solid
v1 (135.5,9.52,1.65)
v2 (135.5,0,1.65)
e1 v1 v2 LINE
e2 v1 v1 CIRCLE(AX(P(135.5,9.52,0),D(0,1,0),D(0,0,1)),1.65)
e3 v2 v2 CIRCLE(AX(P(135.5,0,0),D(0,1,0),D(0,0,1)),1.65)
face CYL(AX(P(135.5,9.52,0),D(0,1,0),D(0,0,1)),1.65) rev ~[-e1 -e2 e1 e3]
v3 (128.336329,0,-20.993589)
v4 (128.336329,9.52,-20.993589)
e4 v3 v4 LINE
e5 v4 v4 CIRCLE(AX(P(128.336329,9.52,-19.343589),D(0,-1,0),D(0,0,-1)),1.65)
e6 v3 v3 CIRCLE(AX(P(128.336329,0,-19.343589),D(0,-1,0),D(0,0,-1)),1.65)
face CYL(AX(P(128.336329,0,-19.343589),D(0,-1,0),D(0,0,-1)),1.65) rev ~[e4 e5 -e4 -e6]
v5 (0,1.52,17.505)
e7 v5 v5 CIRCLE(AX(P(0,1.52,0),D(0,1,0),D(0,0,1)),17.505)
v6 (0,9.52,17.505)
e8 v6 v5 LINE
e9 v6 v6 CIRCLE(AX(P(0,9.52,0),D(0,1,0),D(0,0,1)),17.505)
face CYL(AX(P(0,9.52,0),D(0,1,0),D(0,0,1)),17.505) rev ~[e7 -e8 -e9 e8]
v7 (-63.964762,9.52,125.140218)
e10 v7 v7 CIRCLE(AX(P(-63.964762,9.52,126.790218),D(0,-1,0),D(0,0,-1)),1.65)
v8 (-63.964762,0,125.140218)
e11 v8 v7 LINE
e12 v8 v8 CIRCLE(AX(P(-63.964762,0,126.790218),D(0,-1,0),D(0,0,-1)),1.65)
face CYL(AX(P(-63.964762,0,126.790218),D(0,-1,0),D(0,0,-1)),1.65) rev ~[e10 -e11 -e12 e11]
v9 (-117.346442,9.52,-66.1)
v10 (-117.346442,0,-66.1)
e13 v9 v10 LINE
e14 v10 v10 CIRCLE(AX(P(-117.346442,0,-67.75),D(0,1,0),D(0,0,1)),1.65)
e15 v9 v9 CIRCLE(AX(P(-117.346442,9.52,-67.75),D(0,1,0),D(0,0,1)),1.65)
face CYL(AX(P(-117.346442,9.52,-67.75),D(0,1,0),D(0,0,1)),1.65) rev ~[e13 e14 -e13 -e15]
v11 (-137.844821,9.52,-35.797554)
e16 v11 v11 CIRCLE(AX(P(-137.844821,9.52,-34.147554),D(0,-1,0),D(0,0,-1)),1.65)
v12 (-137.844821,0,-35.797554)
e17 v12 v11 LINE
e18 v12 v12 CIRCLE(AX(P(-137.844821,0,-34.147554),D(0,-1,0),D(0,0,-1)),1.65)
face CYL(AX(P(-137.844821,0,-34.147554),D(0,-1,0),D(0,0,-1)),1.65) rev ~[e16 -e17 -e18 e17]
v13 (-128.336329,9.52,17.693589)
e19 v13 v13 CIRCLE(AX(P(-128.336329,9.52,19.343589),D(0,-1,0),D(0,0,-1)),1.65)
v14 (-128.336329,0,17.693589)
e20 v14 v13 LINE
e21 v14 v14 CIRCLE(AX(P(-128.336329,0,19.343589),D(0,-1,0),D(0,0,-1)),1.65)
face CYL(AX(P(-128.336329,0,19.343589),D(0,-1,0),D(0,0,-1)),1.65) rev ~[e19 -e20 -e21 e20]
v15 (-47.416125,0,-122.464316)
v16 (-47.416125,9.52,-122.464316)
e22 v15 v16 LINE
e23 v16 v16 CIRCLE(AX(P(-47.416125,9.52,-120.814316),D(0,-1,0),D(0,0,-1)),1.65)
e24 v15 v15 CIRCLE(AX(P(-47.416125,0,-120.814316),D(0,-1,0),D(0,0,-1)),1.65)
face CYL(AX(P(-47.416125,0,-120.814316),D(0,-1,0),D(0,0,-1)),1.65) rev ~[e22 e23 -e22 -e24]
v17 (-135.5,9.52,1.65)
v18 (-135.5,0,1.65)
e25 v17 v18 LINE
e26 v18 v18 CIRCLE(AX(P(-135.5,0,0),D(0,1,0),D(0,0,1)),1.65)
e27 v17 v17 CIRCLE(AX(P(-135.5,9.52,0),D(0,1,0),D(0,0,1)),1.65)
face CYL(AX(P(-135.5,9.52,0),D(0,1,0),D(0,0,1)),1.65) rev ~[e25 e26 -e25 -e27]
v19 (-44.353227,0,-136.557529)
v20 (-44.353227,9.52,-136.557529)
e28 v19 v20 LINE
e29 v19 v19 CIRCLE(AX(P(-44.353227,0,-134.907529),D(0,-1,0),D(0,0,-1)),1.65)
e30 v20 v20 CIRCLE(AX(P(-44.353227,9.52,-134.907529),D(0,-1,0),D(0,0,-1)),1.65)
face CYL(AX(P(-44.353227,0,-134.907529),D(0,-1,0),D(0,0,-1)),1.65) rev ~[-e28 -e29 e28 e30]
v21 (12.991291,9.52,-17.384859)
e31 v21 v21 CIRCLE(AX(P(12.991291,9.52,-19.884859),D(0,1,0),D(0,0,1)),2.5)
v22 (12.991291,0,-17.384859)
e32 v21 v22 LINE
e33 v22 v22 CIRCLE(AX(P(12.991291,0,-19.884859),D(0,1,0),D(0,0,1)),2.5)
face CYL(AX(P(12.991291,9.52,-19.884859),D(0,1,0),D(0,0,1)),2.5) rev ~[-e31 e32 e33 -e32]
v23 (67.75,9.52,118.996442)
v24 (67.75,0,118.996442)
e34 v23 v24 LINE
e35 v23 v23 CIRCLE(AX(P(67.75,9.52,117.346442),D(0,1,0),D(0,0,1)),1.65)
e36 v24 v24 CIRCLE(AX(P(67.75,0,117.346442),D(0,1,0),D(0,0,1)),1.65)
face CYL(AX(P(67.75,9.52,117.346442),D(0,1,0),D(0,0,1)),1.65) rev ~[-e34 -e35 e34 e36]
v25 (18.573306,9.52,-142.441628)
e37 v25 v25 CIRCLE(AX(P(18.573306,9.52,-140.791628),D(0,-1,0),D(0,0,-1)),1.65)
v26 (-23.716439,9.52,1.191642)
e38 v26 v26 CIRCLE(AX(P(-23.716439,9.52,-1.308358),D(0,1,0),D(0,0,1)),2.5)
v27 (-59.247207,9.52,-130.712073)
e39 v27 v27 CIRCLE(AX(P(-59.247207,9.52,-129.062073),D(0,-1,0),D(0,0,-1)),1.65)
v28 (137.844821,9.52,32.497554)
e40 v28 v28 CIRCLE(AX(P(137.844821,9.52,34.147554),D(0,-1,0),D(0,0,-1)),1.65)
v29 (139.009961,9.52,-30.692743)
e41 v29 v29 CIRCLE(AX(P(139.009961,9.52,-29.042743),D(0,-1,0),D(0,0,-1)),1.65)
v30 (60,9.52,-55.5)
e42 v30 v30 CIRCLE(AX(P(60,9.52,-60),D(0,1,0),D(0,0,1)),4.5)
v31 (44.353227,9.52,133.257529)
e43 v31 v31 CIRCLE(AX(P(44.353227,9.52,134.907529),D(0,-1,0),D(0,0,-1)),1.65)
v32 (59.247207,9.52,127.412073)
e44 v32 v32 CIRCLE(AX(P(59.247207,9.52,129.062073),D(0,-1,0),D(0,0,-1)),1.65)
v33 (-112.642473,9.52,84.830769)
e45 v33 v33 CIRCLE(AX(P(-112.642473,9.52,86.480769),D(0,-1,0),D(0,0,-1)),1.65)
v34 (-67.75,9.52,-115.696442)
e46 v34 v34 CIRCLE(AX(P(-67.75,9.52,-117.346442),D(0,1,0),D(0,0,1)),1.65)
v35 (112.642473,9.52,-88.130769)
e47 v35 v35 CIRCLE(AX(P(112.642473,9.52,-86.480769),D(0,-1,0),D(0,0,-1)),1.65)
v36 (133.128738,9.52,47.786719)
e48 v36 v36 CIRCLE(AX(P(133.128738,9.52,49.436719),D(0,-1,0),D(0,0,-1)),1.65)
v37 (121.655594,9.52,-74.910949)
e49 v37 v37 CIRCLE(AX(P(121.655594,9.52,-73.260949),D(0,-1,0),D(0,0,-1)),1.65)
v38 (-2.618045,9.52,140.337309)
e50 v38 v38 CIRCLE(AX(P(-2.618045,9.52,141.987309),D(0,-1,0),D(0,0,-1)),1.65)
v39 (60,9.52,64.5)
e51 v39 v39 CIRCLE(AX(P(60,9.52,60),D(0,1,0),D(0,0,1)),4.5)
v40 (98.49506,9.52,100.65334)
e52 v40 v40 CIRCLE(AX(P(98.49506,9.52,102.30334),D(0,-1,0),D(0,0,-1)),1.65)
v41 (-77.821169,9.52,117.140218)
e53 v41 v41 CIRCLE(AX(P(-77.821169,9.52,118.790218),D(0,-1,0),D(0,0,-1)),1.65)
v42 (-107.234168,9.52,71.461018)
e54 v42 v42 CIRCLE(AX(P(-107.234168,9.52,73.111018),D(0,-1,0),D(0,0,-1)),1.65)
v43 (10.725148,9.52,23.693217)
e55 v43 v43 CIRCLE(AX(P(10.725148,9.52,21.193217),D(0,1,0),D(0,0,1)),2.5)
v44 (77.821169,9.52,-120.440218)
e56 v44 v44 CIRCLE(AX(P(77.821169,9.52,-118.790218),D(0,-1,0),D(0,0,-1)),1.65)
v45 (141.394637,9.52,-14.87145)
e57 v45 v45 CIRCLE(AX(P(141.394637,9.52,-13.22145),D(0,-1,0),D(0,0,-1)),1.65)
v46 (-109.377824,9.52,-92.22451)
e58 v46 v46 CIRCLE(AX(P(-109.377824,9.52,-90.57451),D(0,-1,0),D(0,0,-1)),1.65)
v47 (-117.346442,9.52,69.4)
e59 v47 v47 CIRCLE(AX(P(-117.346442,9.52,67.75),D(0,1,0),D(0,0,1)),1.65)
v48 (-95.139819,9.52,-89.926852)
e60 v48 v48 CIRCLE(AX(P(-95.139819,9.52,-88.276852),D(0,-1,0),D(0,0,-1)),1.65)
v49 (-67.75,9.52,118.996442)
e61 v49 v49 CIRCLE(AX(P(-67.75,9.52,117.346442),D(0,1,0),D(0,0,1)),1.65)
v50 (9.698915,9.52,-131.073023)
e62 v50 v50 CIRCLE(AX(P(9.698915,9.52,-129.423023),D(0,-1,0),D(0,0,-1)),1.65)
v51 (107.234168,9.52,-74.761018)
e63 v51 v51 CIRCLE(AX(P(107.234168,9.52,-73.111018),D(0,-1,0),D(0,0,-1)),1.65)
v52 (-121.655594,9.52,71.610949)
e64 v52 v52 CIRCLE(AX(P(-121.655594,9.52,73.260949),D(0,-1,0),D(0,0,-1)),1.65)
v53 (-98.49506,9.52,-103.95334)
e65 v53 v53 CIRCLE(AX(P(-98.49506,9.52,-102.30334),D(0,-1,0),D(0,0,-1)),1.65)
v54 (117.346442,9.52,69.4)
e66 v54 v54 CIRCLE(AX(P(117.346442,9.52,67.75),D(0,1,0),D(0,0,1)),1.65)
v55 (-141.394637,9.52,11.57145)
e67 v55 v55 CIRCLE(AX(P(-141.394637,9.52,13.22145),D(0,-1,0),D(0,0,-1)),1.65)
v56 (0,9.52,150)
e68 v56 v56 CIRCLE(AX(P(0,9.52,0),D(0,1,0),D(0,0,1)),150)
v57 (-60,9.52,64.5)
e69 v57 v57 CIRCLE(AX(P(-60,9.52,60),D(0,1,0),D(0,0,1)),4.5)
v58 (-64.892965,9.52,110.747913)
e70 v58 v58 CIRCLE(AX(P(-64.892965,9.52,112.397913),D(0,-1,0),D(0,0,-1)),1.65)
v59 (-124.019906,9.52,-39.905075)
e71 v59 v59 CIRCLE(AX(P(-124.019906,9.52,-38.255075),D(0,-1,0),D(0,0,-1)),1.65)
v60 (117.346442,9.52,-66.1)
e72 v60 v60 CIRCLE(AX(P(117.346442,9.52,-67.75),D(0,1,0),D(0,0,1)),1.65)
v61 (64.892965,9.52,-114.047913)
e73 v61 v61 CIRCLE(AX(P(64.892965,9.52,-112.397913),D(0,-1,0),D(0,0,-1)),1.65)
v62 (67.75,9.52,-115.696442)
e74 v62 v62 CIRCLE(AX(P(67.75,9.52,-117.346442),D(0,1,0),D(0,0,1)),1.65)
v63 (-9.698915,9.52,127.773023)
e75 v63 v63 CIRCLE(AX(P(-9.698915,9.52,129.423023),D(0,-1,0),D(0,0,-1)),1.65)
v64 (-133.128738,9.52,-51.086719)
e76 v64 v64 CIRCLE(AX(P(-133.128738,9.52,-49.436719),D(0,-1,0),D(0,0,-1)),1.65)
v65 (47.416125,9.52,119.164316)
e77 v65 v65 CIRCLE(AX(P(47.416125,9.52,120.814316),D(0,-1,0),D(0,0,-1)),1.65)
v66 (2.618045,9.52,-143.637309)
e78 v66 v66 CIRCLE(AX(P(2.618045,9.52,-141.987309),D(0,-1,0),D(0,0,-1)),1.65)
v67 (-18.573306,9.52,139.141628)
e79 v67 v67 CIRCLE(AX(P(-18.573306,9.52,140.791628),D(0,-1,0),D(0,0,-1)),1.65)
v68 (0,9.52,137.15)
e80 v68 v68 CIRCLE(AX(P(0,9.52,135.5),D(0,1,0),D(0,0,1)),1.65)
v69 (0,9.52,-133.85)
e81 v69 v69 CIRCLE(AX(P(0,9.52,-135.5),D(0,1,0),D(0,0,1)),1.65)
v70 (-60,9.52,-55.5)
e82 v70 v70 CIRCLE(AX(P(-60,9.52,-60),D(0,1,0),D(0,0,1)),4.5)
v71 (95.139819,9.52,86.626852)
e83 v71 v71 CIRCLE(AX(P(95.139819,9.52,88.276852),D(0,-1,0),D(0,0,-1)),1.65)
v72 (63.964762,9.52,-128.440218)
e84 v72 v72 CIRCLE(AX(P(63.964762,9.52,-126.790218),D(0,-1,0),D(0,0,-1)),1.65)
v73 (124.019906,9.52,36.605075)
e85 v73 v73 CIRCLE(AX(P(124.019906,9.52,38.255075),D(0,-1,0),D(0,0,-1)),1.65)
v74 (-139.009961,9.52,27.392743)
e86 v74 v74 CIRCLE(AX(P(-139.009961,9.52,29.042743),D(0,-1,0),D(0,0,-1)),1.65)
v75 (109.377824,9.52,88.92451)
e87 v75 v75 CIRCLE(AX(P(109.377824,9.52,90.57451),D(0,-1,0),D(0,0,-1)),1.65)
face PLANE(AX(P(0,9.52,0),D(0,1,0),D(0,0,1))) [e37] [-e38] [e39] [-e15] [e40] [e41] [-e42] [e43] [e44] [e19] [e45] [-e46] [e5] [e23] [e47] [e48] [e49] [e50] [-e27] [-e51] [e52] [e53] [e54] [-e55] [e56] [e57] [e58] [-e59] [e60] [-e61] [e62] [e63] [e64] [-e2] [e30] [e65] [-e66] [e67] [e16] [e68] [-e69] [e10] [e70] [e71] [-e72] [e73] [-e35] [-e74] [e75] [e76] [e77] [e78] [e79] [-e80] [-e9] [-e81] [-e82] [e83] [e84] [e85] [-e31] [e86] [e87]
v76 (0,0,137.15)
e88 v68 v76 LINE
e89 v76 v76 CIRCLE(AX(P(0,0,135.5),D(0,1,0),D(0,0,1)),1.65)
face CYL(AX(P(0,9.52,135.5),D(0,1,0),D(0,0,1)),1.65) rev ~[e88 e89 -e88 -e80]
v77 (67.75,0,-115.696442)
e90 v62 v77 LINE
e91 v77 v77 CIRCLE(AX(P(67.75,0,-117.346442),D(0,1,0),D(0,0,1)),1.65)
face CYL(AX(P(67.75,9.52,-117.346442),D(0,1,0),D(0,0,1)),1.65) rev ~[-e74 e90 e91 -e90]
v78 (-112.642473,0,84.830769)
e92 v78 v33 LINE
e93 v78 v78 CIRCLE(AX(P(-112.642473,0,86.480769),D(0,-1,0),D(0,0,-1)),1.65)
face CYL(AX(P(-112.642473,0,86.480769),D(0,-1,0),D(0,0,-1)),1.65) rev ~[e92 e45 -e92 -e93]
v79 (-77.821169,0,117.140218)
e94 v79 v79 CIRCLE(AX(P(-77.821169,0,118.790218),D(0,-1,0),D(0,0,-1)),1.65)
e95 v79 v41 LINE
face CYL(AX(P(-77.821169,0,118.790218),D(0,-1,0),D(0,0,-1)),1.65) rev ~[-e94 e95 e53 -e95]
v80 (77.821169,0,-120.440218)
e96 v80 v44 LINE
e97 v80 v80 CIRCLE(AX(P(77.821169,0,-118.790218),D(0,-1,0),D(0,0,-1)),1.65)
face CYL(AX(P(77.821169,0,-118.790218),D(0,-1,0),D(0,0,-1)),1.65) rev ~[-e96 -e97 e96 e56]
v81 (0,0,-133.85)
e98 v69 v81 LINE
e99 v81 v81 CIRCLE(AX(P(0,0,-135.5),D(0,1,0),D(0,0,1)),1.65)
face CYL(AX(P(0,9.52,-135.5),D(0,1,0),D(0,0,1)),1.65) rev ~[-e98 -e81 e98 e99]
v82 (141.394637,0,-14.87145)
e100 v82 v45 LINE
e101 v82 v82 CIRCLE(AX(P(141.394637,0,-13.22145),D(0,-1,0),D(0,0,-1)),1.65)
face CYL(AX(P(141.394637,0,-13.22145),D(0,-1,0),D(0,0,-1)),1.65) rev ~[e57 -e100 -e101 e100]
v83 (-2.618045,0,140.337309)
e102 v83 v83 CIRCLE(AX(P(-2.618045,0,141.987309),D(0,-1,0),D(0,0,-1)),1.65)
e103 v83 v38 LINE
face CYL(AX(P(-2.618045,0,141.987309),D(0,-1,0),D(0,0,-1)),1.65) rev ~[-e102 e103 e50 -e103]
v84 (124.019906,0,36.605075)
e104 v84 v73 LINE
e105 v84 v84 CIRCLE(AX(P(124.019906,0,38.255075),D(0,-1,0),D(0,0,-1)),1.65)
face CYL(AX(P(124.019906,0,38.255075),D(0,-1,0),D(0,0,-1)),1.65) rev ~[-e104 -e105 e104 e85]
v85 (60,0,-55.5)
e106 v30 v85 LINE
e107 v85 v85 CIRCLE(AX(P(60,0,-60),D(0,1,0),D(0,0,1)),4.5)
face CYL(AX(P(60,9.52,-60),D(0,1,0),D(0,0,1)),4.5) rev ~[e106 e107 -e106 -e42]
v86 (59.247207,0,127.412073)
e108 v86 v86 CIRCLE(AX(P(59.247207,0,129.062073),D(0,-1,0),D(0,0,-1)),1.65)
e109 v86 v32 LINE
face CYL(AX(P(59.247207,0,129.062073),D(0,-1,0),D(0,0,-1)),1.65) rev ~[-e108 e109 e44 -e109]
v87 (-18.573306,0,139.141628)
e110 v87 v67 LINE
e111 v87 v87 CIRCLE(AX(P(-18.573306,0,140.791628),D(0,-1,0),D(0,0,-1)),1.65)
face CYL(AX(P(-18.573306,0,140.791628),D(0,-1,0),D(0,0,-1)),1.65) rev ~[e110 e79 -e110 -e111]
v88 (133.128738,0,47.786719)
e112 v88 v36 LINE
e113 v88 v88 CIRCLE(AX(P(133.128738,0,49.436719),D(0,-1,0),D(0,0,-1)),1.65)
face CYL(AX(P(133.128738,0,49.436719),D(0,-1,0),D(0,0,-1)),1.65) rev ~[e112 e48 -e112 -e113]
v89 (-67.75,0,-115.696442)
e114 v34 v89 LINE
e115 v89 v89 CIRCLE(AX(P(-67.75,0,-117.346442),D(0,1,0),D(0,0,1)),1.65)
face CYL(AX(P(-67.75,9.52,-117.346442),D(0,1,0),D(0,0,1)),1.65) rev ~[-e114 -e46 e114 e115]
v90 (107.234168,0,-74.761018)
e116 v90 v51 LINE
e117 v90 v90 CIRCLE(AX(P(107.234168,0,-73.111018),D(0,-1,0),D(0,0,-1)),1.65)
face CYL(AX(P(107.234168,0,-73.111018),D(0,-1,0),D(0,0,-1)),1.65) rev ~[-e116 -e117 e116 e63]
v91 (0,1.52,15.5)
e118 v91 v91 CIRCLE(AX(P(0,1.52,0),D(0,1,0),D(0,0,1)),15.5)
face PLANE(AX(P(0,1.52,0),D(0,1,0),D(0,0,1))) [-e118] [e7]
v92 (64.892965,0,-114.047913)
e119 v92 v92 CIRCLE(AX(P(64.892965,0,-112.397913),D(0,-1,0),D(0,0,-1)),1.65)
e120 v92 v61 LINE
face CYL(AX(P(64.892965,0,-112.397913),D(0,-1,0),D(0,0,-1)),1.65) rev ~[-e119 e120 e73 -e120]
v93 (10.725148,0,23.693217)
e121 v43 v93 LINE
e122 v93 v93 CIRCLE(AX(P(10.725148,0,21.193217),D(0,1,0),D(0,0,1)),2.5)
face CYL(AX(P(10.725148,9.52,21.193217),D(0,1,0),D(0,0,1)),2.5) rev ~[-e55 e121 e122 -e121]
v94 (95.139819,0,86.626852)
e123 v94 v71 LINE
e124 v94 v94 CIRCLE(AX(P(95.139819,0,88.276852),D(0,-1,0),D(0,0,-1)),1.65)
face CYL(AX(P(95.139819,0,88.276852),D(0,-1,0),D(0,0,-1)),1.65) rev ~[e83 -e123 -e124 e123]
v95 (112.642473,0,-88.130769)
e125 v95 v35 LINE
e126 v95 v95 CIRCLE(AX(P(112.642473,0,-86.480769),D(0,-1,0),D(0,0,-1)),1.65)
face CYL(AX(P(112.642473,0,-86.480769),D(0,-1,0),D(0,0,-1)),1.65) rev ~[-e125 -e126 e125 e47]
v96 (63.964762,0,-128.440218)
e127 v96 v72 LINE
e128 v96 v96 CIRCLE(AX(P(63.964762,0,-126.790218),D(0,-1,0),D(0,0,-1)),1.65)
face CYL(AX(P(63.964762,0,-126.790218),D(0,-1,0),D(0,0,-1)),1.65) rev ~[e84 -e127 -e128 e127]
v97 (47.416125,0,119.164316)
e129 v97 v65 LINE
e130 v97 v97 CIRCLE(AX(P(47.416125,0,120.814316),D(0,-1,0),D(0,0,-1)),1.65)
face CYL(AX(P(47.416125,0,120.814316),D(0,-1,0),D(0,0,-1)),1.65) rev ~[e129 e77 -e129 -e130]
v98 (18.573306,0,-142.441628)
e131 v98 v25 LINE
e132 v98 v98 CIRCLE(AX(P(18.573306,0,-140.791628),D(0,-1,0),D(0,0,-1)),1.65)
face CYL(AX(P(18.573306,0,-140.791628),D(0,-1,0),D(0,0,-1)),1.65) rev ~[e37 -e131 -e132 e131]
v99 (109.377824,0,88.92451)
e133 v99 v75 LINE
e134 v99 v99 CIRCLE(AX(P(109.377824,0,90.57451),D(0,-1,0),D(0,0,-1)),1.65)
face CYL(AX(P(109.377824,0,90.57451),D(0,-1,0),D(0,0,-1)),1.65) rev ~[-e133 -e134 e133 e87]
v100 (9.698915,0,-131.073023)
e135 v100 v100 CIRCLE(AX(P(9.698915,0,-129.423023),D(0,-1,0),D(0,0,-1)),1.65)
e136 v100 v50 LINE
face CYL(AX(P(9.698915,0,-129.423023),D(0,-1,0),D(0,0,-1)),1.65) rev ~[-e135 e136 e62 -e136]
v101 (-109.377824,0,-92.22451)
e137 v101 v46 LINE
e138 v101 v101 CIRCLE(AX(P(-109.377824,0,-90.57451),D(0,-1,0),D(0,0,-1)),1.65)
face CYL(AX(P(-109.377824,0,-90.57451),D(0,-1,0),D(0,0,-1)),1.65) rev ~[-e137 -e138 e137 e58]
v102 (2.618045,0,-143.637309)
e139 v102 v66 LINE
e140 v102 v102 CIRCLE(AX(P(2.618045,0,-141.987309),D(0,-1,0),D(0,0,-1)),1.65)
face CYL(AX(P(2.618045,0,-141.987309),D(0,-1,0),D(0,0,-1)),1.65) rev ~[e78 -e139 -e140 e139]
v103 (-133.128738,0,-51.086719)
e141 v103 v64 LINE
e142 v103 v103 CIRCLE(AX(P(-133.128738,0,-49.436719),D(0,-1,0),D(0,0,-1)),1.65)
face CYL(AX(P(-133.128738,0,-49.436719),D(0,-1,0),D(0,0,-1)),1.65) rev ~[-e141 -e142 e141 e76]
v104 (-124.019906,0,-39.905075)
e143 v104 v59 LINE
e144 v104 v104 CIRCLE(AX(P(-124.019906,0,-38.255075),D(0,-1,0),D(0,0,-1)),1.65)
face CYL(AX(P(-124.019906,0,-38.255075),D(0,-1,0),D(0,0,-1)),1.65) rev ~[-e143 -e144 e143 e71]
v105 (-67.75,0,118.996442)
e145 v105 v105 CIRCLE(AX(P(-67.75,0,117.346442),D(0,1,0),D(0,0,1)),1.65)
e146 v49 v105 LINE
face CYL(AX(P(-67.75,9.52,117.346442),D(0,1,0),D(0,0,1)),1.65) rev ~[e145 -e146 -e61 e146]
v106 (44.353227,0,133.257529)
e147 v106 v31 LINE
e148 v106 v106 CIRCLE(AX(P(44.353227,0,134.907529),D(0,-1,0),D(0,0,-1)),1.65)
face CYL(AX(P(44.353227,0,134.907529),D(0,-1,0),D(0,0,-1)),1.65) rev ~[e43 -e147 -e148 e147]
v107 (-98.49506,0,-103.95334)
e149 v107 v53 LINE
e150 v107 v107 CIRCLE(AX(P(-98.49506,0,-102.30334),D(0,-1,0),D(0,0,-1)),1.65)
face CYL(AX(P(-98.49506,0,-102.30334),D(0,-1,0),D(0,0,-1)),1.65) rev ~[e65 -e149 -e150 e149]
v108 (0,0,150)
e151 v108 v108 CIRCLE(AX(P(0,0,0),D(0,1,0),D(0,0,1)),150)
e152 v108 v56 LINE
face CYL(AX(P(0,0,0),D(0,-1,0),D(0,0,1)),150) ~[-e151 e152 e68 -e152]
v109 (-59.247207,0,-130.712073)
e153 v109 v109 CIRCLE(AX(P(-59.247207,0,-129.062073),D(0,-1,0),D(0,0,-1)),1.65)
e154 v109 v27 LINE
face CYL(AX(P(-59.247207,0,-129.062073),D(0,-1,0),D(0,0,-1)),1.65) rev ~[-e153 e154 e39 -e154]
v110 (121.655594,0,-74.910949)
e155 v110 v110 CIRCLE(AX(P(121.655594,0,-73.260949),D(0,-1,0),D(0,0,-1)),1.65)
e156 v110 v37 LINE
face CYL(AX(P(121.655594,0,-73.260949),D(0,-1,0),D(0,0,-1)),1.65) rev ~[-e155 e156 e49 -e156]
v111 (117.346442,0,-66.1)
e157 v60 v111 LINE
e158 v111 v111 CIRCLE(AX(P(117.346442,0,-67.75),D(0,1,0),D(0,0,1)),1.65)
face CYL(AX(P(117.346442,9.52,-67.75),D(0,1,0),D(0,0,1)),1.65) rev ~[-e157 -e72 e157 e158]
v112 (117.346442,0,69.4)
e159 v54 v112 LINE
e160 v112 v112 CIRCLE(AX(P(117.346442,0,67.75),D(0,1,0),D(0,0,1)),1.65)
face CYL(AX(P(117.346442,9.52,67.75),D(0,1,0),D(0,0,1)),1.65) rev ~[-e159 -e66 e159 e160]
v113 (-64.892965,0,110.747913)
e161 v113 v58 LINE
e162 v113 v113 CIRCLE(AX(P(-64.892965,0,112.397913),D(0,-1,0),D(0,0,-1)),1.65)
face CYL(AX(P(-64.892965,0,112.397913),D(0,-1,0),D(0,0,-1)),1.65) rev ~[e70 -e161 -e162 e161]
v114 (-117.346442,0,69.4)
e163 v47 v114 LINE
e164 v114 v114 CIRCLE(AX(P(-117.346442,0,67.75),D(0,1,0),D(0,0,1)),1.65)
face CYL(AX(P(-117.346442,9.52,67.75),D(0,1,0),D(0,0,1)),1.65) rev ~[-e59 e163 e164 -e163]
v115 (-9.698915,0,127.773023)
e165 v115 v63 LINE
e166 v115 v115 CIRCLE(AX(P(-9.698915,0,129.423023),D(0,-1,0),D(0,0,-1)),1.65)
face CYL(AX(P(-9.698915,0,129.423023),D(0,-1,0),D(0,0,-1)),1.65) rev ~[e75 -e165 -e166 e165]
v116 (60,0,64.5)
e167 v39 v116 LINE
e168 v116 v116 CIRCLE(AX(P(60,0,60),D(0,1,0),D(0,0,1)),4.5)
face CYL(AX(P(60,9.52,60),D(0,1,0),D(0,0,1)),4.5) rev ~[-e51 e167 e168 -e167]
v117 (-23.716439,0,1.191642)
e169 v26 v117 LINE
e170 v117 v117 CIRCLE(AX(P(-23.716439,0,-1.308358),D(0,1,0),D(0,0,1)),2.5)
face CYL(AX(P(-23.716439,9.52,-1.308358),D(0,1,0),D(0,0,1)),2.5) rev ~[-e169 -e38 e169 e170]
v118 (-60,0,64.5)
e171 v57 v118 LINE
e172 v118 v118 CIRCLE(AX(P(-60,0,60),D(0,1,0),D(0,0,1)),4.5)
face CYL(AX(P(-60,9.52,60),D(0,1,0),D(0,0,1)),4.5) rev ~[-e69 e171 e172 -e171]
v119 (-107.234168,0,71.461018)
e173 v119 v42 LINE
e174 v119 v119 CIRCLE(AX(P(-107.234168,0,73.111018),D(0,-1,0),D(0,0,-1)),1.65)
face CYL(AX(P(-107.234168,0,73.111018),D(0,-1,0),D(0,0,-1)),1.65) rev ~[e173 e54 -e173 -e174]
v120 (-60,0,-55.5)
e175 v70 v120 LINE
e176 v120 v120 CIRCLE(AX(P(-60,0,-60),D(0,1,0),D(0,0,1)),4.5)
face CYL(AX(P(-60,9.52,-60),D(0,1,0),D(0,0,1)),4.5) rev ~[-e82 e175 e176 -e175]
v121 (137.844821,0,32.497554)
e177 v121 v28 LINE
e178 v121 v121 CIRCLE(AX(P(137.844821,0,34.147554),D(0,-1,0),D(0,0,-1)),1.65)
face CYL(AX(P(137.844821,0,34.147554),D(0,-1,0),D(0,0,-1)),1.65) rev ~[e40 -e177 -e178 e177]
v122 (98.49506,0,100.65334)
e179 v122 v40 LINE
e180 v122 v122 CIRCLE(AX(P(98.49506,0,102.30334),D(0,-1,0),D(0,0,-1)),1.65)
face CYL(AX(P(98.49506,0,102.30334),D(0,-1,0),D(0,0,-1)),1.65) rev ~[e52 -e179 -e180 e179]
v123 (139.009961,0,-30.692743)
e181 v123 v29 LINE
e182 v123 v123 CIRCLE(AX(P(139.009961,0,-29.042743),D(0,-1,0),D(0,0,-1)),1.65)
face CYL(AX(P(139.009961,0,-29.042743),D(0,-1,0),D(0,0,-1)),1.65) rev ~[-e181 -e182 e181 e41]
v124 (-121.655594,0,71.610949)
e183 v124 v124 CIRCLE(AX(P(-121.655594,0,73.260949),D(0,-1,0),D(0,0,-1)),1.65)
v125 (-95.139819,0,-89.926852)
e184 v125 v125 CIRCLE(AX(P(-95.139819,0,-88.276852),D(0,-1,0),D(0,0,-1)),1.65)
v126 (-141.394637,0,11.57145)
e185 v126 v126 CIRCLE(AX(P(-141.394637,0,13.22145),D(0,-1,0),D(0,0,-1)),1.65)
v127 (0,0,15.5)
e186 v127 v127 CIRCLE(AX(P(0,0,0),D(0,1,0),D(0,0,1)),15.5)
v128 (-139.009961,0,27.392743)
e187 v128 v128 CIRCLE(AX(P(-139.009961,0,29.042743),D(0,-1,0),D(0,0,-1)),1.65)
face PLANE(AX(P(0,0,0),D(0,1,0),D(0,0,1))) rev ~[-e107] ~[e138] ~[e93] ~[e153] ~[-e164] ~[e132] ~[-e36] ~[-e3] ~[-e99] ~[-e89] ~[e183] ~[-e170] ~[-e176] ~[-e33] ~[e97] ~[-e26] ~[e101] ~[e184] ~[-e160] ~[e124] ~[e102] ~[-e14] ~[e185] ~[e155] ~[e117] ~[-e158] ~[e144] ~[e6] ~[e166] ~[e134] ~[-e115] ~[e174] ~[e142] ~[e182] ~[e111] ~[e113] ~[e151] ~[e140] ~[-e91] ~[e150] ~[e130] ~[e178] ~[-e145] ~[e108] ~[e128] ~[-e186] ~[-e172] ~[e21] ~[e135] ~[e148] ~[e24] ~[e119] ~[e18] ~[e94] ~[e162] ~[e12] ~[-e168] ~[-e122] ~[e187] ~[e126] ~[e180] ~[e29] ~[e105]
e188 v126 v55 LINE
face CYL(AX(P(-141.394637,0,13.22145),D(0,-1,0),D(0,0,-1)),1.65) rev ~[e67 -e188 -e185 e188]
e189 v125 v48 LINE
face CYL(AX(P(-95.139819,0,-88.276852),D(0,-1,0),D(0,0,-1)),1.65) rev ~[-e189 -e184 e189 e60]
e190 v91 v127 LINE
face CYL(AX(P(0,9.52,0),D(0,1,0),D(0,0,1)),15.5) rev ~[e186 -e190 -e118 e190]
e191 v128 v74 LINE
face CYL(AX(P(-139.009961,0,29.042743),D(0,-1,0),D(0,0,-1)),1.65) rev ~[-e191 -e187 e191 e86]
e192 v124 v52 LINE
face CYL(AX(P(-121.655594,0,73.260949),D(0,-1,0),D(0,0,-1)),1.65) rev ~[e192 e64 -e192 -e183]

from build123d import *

# Parameters (mm, degrees)
SKETCH1_R           = 150
BOSS_EXTRUDE1_DEPTH = 9.52
SKETCH2_R           = 15.5
CUT_EXTRUDE1_DEPTH  = 213.345544808
SKETCH3_R           = 17.505
CUT_EXTRUDE2_DEPTH  = 8
SKETCH4_R           = 2.5
SKETCH4_R_2         = 1.65
CUT_EXTRUDE3_DEPTH  = 213.345544808
SKETCH6_R           = 1.65
CUT_EXTRUDE5_DEPTH  = 213.345544808
SKETCH7_R           = 4.5
CUT_EXTRUDE6_DEPTH  = 213.345544808


with BuildPart() as part:
    # Sketch1 → Boss-Extrude1 (new body)
    with BuildSketch(Plane(origin=(0, 0, 0), x_dir=(1, 0, 0), z_dir=(0, 1, 0))):
        with Locations(Location((0, 0, 0), (0, 0, 270))):
            Circle(SKETCH1_R)
    extrude(amount=BOSS_EXTRUDE1_DEPTH)

    # Sketch2 → Cut-Extrude1 (cut, through all)
    with BuildSketch(Plane(origin=(0, 9.52, 0), x_dir=(1, 0, 0), z_dir=(0, 1, 0))):
        with Locations(Location((0, 0, 0), (0, 0, 270))):
            Circle(SKETCH2_R)
    extrude(amount=-CUT_EXTRUDE1_DEPTH, mode=Mode.SUBTRACT)

    # Sketch3 → Cut-Extrude2 (cut)
    with BuildSketch(Plane(origin=(0, 9.52, 0), x_dir=(1, 0, 0), z_dir=(0, 1, 0))):
        with Locations(Location((0, 0, 0), (0, 0, 270))):
            Circle(SKETCH3_R)
    extrude(amount=-CUT_EXTRUDE2_DEPTH, mode=Mode.SUBTRACT)

    # Sketch4 → Cut-Extrude3 (cut, through all)
    with BuildSketch(Plane(origin=(0, 9.52, 0), x_dir=(1, 0, 0), z_dir=(0, 1, 0))):
        with Locations(Location((10.725147849, -21.193217308, 0), (0, 0, 270))):
            Circle(SKETCH4_R)
        with Locations(Location((-23.716438501, 1.308358157, 0), (0, 0, 270))):
            Circle(SKETCH4_R)
        with Locations(Location((12.991290652, 19.884859151, 0), (0, 0, 270))):
            Circle(SKETCH4_R)
        with Locations(Location((67.75, -117.346442213, 0), (0, 0, 270))):
            Circle(SKETCH4_R_2)
        with Locations(Location((0, -135.5, 0), (0, 0, 270))):
            Circle(SKETCH4_R_2)
        with Locations(Location((-67.75, -117.346442213, 0), (0, 0, 270))):
            Circle(SKETCH4_R_2)
        with Locations(Location((-117.346442213, -67.75, 0), (0, 0, 270))):
            Circle(SKETCH4_R_2)
        with Locations(Location((-135.5, 0, 0), (0, 0, 270))):
            Circle(SKETCH4_R_2)
        with Locations(Location((-117.346442213, 67.75, 0), (0, 0, 270))):
            Circle(SKETCH4_R_2)
        with Locations(Location((-67.75, 117.346442213, 0), (0, 0, 270))):
            Circle(SKETCH4_R_2)
        with Locations(Location((0, 135.5, 0), (0, 0, 270))):
            Circle(SKETCH4_R_2)
        with Locations(Location((67.75, 117.346442213, 0), (0, 0, 270))):
            Circle(SKETCH4_R_2)
        with Locations(Location((117.346442213, 67.75, 0), (0, 0, 270))):
            Circle(SKETCH4_R_2)
        with Locations(Location((135.5, 0, 0), (0, 0, 270))):
            Circle(SKETCH4_R_2)
        with Locations(Location((117.346442213, -67.75, 0), (0, 0, 270))):
            Circle(SKETCH4_R_2)
    extrude(amount=-CUT_EXTRUDE3_DEPTH, mode=Mode.SUBTRACT)

    # Sketch6 → Cut-Extrude5 (cut, through all)
    with BuildSketch(Plane(origin=(0, 0, 0), x_dir=(-1, 0, 0), z_dir=(0, -1, 0))):
        with Locations(Location((-63.964762127, 126.790217897, 0), (0, 0, 90))):
            Circle(SKETCH6_R)
        with Locations(Location((-77.821168587, 118.790217897, 0), (0, 0, 90))):
            Circle(SKETCH6_R)
        with Locations(Location((-64.892965357, 112.397913052, 0), (0, 0, 90))):
            Circle(SKETCH6_R)
        with Locations(Location((-9.698914748, 129.423022928, 0), (0, 0, 90))):
            Circle(SKETCH6_R)
        with Locations(Location((-2.618045494, 141.987309243, 0), (0, 0, 90))):
            Circle(SKETCH6_R)
        with Locations(Location((-18.573306249, 140.791627746, 0), (0, 0, 90))):
            Circle(SKETCH6_R)
        with Locations(Location((59.247207157, 129.062072633, 0), (0, 0, 90))):
            Circle(SKETCH6_R)
        with Locations(Location((44.353227178, 134.907529023, 0), (0, 0, 90))):
            Circle(SKETCH6_R)
        with Locations(Location((47.416124875, 120.814315845, 0), (0, 0, 90))):
            Circle(SKETCH6_R)
        with Locations(Location((109.377823811, 90.574509696, 0), (0, 0, 90))):
            Circle(SKETCH6_R)
        with Locations(Location((98.495060007, 102.303339645, 0), (0, 0, 90))):
            Circle(SKETCH6_R)
        with Locations(Location((95.139819447, 88.276851818, 0), (0, 0, 90))):
            Circle(SKETCH6_R)
        with Locations(Location((133.128738238, 49.436719183, 0), (0, 0, 90))):
            Circle(SKETCH6_R)
        with Locations(Location((124.019905964, 38.255074644, 0), (0, 0, 90))):
            Circle(SKETCH6_R)
        with Locations(Location((137.844821028, 34.14755429, 0), (0, 0, 90))):
            Circle(SKETCH6_R)
        with Locations(Location((141.394637144, -13.221449816, 0), (0, 0, 90))):
            Circle(SKETCH6_R)
        with Locations(Location((128.3363291, -19.343589231, 0), (0, 0, 90))):
            Circle(SKETCH6_R)
        with Locations(Location((139.009960885, -29.042743035, 0), (0, 0, 90))):
            Circle(SKETCH6_R)
        with Locations(Location((121.655594073, -73.260948528, 0), (0, 0, 90))):
            Circle(SKETCH6_R)
        with Locations(Location((112.642473144, -86.480768917, 0), (0, 0, 90))):
            Circle(SKETCH6_R)
        with Locations(Location((107.234168316, -73.111018025, 0), (0, 0, 90))):
            Circle(SKETCH6_R)
        with Locations(Location((64.892965357, -112.397913052, 0), (0, 0, 90))):
            Circle(SKETCH6_R)
        with Locations(Location((63.964762127, -126.790217897, 0), (0, 0, 90))):
            Circle(SKETCH6_R)
        with Locations(Location((77.821168587, -118.790217897, 0), (0, 0, 90))):
            Circle(SKETCH6_R)
        with Locations(Location((9.698914748, -129.423022928, 0), (0, 0, 90))):
            Circle(SKETCH6_R)
        with Locations(Location((2.618045494, -141.987309243, 0), (0, 0, 90))):
            Circle(SKETCH6_R)
        with Locations(Location((18.573306249, -140.791627746, 0), (0, 0, 90))):
            Circle(SKETCH6_R)
        with Locations(Location((-44.353227178, -134.907529023, 0), (0, 0, 90))):
            Circle(SKETCH6_R)
        with Locations(Location((-59.247207157, -129.062072633, 0), (0, 0, 90))):
            Circle(SKETCH6_R)
        with Locations(Location((-47.416124875, -120.814315845, 0), (0, 0, 90))):
            Circle(SKETCH6_R)
        with Locations(Location((-98.495060007, -102.303339645, 0), (0, 0, 90))):
            Circle(SKETCH6_R)
        with Locations(Location((-109.377823811, -90.574509696, 0), (0, 0, 90))):
            Circle(SKETCH6_R)
        with Locations(Location((-95.139819447, -88.276851818, 0), (0, 0, 90))):
            Circle(SKETCH6_R)
        with Locations(Location((-124.019905964, -38.255074644, 0), (0, 0, 90))):
            Circle(SKETCH6_R)
        with Locations(Location((-137.844821028, -34.14755429, 0), (0, 0, 90))):
            Circle(SKETCH6_R)
        with Locations(Location((-133.128738238, -49.436719183, 0), (0, 0, 90))):
            Circle(SKETCH6_R)
        with Locations(Location((-128.3363291, 19.343589231, 0), (0, 0, 90))):
            Circle(SKETCH6_R)
        with Locations(Location((-141.394637144, 13.221449816, 0), (0, 0, 90))):
            Circle(SKETCH6_R)
        with Locations(Location((-139.009960885, 29.042743035, 0), (0, 0, 90))):
            Circle(SKETCH6_R)
        with Locations(Location((-107.234168316, 73.111018025, 0), (0, 0, 90))):
            Circle(SKETCH6_R)
        with Locations(Location((-121.655594073, 73.260948528, 0), (0, 0, 90))):
            Circle(SKETCH6_R)
        with Locations(Location((-112.642473144, 86.480768917, 0), (0, 0, 90))):
            Circle(SKETCH6_R)
    extrude(amount=-CUT_EXTRUDE5_DEPTH, mode=Mode.SUBTRACT)

    # Sketch7 → Cut-Extrude6 (cut, through all)
    with BuildSketch(Plane(origin=(0, 9.52, 0), x_dir=(1, 0, 0), z_dir=(0, 1, 0))):
        with Locations(Location((-60, -60, 0), (0, 0, 270))):
            Circle(SKETCH7_R)
        with Locations(Location((60, -60, 0), (0, 0, 270))):
            Circle(SKETCH7_R)
        with Locations(Location((60, 60, 0), (0, 0, 270))):
            Circle(SKETCH7_R)
        with Locations(Location((-60, 60, 0), (0, 0, 270))):
            Circle(SKETCH7_R)
    extrude(amount=-CUT_EXTRUDE6_DEPTH, mode=Mode.SUBTRACT)


solid = part.part
